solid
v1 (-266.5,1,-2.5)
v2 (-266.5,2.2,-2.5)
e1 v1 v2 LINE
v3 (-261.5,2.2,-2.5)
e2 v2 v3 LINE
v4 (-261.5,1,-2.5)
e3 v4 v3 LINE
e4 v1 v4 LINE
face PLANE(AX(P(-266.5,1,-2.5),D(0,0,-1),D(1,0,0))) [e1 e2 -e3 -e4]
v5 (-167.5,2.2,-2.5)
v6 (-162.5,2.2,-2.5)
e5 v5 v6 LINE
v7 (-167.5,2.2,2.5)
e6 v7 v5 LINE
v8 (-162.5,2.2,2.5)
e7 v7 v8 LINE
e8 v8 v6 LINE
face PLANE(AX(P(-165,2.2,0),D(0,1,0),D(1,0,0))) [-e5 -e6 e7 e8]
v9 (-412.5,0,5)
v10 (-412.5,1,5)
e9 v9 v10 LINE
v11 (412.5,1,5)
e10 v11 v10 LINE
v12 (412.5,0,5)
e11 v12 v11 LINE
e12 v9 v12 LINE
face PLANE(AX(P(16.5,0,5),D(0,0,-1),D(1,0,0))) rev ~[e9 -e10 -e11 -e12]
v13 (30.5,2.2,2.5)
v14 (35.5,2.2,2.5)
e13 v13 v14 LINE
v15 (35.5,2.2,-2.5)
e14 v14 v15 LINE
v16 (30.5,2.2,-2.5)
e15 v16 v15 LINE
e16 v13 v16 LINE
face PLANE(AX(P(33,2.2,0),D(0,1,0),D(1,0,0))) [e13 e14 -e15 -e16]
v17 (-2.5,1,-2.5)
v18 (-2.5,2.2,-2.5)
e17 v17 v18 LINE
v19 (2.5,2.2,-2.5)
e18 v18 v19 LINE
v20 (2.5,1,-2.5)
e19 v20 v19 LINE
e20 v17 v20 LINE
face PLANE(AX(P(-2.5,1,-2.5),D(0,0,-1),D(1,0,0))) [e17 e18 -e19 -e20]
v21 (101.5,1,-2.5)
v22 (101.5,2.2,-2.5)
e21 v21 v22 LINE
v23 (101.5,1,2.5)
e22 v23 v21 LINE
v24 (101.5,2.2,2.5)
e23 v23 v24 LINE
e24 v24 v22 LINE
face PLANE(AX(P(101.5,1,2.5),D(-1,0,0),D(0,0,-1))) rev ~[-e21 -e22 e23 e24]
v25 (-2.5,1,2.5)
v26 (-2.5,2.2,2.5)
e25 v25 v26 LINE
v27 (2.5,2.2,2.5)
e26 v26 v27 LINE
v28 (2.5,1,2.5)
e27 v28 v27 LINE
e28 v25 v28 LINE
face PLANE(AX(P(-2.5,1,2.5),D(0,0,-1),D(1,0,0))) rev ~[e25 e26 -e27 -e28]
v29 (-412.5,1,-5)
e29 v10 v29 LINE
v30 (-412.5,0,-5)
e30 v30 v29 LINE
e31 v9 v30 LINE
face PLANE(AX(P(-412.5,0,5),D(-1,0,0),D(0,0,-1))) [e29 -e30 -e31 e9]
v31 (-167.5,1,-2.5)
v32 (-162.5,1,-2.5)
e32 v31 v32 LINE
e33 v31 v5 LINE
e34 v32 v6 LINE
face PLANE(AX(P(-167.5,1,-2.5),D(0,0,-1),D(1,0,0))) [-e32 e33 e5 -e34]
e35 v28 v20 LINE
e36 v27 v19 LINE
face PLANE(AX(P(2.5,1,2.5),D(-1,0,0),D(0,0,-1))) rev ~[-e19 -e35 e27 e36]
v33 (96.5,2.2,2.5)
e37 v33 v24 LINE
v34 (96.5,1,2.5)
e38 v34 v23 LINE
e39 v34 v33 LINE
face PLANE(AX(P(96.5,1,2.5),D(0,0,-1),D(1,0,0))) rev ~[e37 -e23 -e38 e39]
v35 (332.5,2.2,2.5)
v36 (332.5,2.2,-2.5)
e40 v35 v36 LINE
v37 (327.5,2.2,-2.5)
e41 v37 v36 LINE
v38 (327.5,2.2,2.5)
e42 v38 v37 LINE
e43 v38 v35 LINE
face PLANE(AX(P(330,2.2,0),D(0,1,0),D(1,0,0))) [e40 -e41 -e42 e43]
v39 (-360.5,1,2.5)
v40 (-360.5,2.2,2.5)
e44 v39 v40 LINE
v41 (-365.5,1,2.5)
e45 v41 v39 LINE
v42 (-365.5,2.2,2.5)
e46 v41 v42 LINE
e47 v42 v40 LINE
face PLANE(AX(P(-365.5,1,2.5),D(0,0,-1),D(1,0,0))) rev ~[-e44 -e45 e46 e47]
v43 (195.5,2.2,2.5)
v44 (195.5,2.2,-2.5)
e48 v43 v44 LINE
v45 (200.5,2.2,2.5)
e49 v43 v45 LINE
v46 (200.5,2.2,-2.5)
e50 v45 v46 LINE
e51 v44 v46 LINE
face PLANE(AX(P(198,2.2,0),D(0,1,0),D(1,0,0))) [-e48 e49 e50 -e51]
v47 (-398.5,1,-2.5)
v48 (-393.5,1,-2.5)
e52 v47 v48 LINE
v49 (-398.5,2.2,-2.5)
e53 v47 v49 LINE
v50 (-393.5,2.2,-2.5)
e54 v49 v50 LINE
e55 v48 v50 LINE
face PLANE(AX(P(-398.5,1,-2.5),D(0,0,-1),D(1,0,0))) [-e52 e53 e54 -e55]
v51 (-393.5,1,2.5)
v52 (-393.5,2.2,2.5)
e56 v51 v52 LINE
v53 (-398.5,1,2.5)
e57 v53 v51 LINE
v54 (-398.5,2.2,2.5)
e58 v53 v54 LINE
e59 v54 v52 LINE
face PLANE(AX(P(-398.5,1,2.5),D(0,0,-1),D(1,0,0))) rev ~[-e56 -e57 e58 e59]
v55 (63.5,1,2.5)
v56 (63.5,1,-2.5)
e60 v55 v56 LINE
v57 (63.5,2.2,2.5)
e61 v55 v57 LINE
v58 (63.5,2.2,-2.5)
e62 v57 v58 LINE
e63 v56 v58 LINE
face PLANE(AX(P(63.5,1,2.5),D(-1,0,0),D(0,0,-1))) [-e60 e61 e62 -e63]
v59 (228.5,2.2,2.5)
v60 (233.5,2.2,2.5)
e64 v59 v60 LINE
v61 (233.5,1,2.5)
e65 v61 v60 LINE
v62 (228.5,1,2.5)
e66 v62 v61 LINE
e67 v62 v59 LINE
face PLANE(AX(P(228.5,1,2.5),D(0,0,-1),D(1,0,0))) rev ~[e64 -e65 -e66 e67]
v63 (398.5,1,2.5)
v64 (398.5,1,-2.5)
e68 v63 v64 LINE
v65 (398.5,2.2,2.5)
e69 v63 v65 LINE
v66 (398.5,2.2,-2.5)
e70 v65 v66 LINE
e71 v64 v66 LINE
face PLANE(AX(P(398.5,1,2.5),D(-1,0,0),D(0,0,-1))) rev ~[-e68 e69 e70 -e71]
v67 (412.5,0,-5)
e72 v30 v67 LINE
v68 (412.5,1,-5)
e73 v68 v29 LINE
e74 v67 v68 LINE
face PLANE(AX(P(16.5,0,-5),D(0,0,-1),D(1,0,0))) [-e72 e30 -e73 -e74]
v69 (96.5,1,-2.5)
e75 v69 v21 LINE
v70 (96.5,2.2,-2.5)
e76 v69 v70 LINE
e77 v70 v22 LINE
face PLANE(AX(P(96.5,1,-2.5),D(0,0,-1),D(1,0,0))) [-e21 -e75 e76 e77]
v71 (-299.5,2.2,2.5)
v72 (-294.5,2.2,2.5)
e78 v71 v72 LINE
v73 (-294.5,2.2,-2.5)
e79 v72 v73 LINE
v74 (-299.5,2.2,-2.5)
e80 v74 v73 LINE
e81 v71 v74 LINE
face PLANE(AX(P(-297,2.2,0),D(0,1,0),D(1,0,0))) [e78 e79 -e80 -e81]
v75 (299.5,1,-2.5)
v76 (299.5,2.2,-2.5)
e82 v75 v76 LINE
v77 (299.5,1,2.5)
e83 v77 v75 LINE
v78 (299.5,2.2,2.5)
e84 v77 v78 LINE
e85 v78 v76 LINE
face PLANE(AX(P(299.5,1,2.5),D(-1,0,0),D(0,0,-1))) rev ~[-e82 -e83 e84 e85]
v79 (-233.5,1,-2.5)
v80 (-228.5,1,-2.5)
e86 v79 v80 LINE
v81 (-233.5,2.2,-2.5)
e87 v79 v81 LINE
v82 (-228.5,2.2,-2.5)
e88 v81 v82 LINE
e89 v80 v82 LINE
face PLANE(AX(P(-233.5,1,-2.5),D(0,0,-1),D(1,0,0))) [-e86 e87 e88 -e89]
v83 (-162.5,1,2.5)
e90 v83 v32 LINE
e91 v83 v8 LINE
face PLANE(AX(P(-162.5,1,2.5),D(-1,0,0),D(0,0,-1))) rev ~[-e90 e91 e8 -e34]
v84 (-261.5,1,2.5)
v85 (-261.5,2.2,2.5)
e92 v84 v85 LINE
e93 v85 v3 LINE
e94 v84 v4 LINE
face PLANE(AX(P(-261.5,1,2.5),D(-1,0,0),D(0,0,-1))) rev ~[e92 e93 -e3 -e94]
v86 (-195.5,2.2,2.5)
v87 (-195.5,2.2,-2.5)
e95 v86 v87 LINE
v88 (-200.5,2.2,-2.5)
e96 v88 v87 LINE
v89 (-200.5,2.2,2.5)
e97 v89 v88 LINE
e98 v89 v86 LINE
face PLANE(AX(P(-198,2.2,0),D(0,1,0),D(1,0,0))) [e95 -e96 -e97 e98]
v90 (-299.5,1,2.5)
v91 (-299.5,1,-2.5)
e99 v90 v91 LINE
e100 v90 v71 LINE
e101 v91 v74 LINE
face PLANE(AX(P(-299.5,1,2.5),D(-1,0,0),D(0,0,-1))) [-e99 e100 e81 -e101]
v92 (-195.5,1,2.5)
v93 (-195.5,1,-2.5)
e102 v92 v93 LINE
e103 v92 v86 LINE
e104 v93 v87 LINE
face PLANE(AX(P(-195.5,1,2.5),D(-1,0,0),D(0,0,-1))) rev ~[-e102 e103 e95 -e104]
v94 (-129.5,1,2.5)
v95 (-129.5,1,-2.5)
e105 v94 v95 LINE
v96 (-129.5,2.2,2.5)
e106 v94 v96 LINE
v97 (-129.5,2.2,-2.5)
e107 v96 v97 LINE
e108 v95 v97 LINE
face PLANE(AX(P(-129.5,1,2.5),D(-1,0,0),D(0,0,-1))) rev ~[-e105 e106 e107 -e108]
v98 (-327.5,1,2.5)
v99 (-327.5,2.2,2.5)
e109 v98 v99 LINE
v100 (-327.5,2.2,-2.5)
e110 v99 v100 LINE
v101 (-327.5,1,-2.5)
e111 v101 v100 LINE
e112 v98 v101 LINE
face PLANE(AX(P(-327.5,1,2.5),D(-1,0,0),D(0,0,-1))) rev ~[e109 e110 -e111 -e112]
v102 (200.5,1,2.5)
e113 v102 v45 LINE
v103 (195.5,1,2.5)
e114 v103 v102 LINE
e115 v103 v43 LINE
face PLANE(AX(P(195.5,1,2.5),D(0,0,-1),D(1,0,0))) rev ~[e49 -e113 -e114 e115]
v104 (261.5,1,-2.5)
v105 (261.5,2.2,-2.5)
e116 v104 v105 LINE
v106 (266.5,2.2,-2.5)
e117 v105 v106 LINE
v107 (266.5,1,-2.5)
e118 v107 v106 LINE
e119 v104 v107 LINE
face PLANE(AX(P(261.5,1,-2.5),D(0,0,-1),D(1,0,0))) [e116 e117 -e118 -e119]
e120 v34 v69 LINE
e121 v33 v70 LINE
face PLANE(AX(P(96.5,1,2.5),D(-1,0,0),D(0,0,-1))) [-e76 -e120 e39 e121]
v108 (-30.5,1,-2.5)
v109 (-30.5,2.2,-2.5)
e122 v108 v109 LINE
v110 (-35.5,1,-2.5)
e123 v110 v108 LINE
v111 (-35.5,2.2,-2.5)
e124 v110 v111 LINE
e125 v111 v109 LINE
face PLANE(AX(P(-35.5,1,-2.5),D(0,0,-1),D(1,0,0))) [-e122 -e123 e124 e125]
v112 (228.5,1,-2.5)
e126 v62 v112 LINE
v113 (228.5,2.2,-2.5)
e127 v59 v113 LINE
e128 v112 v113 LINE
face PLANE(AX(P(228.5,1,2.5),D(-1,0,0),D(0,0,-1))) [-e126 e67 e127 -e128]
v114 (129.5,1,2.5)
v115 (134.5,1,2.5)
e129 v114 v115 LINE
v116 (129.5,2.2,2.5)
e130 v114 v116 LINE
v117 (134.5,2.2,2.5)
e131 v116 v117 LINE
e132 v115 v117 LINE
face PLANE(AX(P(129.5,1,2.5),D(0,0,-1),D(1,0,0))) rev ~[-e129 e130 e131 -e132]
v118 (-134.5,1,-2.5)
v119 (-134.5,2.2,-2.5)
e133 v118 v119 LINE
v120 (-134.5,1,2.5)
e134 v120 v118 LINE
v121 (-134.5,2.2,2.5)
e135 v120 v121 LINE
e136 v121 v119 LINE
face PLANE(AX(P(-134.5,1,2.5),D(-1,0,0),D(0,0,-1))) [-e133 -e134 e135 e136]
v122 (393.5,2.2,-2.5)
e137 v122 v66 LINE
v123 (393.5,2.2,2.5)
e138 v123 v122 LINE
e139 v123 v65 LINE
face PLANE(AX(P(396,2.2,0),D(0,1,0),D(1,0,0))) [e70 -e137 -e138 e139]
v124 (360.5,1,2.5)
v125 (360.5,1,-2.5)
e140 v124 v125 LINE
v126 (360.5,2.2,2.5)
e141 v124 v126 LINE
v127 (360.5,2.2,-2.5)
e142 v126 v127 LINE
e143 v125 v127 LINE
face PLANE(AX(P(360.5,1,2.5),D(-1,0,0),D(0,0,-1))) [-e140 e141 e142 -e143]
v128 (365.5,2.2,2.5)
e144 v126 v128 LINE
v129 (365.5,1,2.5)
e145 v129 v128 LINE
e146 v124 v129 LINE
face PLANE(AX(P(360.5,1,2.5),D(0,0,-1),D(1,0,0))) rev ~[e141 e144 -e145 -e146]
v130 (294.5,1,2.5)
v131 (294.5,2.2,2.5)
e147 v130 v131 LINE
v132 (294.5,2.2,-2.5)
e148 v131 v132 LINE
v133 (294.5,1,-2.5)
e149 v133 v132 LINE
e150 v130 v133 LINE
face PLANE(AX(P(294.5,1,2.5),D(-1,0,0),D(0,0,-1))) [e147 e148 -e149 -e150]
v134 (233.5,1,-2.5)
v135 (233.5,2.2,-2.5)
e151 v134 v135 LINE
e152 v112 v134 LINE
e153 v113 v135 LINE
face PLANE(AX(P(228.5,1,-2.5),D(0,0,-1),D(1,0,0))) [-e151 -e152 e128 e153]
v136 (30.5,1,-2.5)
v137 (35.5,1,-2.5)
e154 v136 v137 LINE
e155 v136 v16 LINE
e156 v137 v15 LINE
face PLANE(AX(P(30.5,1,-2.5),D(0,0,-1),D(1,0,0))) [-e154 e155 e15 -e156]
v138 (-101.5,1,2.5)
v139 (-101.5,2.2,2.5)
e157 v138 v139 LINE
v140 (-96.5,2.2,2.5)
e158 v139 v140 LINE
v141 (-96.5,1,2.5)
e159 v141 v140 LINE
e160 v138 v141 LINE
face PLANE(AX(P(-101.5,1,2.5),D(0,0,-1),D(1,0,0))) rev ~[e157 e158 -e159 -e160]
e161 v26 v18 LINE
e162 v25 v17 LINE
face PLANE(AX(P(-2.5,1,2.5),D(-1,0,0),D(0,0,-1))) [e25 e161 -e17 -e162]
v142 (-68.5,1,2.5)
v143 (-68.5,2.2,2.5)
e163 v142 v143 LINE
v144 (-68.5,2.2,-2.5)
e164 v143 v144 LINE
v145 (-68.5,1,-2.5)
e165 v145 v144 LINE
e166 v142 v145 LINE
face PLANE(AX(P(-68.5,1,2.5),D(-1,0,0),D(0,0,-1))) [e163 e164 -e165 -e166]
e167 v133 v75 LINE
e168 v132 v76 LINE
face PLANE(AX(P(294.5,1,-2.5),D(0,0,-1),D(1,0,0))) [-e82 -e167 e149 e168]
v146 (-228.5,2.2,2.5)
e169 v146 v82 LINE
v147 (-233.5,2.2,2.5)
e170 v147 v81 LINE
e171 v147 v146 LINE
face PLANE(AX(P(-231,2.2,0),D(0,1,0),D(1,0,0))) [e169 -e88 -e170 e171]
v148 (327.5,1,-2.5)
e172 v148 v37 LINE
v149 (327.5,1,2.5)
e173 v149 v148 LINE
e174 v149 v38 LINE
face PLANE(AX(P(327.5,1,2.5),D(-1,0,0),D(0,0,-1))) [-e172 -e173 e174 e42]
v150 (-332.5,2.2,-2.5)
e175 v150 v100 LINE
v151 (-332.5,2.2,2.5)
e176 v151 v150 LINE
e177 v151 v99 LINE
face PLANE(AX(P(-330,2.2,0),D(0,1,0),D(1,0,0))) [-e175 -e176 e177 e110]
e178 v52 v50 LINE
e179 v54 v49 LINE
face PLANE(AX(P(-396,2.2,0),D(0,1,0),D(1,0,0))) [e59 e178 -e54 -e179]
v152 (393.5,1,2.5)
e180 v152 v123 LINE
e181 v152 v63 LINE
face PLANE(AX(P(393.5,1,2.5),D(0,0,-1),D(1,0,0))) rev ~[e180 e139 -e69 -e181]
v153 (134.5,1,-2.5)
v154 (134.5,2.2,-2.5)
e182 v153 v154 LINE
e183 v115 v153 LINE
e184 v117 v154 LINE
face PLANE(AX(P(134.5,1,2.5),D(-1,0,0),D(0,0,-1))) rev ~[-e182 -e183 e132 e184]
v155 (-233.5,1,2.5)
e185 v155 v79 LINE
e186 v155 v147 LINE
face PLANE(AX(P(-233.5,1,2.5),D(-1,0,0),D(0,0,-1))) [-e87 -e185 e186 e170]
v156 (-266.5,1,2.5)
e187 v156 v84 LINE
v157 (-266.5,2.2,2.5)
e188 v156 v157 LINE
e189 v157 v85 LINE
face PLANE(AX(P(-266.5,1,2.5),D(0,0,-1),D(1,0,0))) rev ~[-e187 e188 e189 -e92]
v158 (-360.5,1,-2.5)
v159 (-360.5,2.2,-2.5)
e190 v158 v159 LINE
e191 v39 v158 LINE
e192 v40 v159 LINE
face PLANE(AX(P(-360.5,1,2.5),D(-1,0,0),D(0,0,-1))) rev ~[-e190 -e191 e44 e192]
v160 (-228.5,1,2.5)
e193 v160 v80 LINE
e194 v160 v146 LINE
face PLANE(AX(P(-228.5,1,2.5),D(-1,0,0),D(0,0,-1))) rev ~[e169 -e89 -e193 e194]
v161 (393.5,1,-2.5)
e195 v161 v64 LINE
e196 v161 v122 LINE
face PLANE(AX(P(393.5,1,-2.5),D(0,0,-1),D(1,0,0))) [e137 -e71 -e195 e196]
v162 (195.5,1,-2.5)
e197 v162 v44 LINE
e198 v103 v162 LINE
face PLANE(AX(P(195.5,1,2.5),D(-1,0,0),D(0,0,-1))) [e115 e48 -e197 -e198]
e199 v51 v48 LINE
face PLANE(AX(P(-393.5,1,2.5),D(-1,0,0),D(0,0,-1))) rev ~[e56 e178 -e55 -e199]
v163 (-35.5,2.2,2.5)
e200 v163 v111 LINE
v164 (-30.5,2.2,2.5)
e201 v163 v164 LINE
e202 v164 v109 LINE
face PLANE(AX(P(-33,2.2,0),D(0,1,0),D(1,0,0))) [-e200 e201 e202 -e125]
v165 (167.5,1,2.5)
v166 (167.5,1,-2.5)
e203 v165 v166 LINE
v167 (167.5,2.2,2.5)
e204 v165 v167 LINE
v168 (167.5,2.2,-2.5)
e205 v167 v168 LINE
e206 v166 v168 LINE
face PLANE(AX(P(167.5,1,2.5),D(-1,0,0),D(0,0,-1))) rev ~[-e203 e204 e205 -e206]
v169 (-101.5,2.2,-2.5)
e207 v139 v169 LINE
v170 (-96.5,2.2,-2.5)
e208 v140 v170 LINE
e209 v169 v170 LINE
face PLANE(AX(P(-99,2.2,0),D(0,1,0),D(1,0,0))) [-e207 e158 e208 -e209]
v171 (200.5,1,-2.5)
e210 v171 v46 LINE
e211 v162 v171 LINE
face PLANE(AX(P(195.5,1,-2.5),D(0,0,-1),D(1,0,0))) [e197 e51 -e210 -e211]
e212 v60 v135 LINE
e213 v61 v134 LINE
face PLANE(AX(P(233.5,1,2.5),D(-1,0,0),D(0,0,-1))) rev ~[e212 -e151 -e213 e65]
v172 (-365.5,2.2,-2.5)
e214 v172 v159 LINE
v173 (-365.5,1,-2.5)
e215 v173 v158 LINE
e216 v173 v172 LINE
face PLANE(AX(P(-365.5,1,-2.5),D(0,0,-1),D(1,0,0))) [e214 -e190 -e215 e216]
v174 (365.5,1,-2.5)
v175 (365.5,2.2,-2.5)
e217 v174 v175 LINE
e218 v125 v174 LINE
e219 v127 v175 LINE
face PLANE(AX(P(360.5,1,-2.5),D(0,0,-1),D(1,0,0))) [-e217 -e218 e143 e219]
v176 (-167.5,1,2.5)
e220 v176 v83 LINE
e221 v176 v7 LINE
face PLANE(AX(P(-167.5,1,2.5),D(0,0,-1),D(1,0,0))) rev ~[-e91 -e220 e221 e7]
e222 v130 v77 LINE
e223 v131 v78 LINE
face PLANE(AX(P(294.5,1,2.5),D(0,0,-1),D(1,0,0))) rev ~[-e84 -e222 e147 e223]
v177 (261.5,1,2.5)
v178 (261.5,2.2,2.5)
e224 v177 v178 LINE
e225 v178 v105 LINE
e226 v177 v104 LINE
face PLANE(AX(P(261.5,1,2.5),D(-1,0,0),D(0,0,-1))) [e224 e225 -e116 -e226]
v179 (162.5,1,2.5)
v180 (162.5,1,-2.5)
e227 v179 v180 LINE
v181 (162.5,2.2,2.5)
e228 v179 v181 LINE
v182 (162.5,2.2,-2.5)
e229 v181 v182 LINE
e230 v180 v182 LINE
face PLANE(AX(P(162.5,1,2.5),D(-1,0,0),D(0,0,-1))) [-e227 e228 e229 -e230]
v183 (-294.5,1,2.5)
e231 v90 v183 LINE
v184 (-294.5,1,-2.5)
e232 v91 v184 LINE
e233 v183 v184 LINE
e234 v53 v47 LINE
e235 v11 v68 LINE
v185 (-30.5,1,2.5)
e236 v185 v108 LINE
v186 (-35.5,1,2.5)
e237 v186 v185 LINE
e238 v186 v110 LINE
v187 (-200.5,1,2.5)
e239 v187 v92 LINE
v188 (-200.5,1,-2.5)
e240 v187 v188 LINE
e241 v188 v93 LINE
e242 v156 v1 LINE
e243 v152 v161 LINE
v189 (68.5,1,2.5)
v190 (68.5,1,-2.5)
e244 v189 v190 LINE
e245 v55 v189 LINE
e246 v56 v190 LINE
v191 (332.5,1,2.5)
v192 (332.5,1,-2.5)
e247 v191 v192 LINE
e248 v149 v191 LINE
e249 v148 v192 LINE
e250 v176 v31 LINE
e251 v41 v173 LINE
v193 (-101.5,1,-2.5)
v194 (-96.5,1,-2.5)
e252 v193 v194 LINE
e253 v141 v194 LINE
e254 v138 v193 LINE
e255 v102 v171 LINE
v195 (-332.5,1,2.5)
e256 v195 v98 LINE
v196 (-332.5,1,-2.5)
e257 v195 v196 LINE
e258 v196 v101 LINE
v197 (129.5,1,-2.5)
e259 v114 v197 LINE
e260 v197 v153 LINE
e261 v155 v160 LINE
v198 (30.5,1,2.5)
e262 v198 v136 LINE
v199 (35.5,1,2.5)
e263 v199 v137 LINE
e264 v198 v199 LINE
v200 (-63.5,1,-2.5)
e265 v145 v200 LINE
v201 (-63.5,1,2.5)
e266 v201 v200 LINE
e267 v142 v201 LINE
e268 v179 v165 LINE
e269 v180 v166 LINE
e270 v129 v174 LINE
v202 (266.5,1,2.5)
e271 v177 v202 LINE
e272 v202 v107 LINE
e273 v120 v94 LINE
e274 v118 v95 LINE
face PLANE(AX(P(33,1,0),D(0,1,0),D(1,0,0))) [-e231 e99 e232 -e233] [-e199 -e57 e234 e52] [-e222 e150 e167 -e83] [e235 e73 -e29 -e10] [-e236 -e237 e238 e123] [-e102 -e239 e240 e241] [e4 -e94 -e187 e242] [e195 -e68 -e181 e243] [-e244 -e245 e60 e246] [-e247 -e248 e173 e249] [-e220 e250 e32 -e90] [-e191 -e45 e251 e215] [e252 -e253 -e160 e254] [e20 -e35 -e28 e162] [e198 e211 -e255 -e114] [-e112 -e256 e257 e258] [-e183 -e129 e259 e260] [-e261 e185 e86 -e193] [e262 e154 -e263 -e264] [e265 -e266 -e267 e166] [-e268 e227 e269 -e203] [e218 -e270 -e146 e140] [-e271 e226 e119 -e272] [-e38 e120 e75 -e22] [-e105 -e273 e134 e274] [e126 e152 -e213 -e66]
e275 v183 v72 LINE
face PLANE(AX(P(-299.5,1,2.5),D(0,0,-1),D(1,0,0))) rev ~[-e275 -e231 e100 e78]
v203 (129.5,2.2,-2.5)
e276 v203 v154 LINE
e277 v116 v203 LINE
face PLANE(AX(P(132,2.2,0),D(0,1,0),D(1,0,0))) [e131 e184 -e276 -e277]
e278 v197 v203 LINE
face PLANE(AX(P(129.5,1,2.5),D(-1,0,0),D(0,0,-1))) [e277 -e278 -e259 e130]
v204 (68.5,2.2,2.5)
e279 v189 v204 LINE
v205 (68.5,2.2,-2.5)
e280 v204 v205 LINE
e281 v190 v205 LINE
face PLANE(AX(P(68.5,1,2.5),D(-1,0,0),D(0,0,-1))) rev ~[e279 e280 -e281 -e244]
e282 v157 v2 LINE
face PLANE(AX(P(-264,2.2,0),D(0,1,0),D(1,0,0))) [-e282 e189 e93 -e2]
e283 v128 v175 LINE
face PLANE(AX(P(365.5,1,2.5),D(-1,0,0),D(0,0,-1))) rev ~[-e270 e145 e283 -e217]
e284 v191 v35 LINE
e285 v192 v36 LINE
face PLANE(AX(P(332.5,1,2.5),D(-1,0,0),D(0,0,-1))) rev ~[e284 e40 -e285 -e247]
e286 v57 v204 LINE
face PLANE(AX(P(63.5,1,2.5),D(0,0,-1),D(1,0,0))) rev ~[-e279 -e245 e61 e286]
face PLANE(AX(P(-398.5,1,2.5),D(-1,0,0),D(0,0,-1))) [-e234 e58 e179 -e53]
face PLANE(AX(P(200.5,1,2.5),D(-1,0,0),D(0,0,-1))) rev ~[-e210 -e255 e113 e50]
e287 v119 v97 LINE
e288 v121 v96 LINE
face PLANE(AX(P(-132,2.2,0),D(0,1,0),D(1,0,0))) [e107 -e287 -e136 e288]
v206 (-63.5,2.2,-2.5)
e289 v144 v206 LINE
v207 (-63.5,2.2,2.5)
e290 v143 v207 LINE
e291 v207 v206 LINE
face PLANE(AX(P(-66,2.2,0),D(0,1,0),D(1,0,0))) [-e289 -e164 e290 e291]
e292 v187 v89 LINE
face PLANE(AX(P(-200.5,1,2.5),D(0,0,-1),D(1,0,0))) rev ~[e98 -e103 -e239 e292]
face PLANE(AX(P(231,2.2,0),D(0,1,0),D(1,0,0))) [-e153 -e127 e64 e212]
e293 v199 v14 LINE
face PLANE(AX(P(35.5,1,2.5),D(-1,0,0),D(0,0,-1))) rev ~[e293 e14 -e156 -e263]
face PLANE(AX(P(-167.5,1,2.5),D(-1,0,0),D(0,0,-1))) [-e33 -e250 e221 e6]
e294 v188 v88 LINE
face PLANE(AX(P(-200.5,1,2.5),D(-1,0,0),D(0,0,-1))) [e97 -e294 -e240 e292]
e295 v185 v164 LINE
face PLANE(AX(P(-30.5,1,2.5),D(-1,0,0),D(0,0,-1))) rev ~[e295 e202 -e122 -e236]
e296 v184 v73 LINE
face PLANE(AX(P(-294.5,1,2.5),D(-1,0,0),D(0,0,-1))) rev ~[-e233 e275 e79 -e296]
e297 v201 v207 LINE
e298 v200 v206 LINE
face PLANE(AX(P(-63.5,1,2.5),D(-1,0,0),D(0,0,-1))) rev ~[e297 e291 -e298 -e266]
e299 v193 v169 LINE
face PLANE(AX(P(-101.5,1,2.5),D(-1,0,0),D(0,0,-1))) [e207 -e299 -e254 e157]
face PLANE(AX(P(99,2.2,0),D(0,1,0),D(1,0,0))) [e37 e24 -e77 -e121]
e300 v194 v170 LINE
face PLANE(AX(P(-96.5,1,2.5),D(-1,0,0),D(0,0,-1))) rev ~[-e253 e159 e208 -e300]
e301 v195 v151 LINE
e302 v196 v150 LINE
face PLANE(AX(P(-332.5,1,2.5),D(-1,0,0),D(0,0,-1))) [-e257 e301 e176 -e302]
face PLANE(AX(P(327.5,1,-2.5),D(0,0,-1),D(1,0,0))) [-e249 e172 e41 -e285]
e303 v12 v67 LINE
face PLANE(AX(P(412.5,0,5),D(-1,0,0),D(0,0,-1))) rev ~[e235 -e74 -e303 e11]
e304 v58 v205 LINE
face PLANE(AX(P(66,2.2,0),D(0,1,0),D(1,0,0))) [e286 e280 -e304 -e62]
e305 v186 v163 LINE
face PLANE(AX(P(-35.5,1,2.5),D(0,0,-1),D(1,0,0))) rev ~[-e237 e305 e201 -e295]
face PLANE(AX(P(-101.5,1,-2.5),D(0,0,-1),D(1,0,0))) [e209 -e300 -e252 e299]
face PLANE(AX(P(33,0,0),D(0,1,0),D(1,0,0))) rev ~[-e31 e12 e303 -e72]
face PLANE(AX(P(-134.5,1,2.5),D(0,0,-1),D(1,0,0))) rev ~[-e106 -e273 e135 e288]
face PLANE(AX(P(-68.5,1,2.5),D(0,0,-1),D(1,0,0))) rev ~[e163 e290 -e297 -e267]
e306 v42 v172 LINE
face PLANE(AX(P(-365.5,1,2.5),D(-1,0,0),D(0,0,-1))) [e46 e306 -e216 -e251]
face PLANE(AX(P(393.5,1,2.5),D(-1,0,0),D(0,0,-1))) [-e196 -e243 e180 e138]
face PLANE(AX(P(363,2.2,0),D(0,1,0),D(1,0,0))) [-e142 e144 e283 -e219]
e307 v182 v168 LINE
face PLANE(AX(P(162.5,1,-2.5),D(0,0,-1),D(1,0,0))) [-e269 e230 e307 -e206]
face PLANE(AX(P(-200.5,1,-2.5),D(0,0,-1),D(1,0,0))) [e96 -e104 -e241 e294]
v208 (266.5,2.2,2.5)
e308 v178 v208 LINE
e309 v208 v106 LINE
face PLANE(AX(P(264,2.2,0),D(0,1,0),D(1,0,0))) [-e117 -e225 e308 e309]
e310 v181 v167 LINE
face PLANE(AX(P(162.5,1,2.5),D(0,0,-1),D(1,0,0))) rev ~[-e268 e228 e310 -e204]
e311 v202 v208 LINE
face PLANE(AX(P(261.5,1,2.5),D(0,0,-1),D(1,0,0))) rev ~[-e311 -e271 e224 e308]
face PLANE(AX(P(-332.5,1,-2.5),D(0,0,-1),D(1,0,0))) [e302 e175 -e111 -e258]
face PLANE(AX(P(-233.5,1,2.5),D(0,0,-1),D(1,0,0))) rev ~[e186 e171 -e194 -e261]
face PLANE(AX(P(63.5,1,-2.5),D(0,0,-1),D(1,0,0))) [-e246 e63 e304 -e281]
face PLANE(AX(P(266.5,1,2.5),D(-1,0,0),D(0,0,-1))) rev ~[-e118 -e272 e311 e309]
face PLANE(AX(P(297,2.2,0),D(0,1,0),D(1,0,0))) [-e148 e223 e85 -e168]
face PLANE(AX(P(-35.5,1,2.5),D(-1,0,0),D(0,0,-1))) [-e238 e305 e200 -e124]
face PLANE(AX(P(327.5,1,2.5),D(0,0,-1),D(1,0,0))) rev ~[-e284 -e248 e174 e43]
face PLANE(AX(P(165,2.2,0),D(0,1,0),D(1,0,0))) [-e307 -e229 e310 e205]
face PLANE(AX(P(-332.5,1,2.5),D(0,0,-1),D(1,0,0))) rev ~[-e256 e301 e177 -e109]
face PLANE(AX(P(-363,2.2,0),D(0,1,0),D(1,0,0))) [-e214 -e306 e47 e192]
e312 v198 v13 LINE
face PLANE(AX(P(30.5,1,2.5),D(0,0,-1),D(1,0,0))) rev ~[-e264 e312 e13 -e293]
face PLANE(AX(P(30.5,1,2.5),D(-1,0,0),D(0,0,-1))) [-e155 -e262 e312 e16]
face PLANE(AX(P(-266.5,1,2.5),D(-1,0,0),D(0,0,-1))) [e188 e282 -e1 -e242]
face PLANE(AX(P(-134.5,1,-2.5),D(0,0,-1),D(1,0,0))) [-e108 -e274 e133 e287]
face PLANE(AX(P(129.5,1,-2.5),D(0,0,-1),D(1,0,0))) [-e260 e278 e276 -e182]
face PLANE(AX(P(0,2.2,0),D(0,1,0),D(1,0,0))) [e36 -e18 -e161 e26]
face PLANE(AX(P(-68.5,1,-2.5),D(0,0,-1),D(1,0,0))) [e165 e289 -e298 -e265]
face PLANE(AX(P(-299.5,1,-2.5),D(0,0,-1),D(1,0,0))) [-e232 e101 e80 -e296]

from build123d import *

# Parameters (mm, degrees)
SKETCH1_W           = 33
SKETCH1_H           = 10
BOSS_EXTRUDE1_DEPTH = 1
SKETCH3_W           = 5
SKETCH3_H           = 5
BOSS_EXTRUDE2_DEPTH = 1.2
LPATTERN1_COUNT     = 13
LPATTERN1_PITCH     = 33
LPATTERN1_COL_COUNT = 13
LPATTERN1_COL_PITCH = 33


with BuildPart() as part:
    # Sketch1 → Boss-Extrude1 (new body)
    with BuildSketch(Plane(origin=(0, 0, 0), x_dir=(1, 0, 0), z_dir=(0, 1, 0))):
        Rectangle(SKETCH1_W, SKETCH1_H)
    boss_extrude1 = extrude(amount=BOSS_EXTRUDE1_DEPTH)

    # Sketch3 → Boss-Extrude2 (add)
    with BuildSketch(Plane(origin=(0, 1, 0), x_dir=(1, 0, 0), z_dir=(0, 1, 0))):
        Rectangle(SKETCH3_W, SKETCH3_H)
    boss_extrude2 = extrude(amount=BOSS_EXTRUDE2_DEPTH)

    # LPattern1: Boss-Extrude1, Boss-Extrude2 ×13
    with Locations(*[(-i * LPATTERN1_PITCH, 0, 0) for i in range(1, LPATTERN1_COUNT)]):
        add(boss_extrude1)
        add(boss_extrude2)

    # LPattern1 col: Boss-Extrude1, Boss-Extrude2 ×13
    with Locations(*[(i * LPATTERN1_COL_PITCH, 0, 0) for i in range(1, LPATTERN1_COL_COUNT)]):
        add(boss_extrude1)
        add(boss_extrude2)


solid = part.part
